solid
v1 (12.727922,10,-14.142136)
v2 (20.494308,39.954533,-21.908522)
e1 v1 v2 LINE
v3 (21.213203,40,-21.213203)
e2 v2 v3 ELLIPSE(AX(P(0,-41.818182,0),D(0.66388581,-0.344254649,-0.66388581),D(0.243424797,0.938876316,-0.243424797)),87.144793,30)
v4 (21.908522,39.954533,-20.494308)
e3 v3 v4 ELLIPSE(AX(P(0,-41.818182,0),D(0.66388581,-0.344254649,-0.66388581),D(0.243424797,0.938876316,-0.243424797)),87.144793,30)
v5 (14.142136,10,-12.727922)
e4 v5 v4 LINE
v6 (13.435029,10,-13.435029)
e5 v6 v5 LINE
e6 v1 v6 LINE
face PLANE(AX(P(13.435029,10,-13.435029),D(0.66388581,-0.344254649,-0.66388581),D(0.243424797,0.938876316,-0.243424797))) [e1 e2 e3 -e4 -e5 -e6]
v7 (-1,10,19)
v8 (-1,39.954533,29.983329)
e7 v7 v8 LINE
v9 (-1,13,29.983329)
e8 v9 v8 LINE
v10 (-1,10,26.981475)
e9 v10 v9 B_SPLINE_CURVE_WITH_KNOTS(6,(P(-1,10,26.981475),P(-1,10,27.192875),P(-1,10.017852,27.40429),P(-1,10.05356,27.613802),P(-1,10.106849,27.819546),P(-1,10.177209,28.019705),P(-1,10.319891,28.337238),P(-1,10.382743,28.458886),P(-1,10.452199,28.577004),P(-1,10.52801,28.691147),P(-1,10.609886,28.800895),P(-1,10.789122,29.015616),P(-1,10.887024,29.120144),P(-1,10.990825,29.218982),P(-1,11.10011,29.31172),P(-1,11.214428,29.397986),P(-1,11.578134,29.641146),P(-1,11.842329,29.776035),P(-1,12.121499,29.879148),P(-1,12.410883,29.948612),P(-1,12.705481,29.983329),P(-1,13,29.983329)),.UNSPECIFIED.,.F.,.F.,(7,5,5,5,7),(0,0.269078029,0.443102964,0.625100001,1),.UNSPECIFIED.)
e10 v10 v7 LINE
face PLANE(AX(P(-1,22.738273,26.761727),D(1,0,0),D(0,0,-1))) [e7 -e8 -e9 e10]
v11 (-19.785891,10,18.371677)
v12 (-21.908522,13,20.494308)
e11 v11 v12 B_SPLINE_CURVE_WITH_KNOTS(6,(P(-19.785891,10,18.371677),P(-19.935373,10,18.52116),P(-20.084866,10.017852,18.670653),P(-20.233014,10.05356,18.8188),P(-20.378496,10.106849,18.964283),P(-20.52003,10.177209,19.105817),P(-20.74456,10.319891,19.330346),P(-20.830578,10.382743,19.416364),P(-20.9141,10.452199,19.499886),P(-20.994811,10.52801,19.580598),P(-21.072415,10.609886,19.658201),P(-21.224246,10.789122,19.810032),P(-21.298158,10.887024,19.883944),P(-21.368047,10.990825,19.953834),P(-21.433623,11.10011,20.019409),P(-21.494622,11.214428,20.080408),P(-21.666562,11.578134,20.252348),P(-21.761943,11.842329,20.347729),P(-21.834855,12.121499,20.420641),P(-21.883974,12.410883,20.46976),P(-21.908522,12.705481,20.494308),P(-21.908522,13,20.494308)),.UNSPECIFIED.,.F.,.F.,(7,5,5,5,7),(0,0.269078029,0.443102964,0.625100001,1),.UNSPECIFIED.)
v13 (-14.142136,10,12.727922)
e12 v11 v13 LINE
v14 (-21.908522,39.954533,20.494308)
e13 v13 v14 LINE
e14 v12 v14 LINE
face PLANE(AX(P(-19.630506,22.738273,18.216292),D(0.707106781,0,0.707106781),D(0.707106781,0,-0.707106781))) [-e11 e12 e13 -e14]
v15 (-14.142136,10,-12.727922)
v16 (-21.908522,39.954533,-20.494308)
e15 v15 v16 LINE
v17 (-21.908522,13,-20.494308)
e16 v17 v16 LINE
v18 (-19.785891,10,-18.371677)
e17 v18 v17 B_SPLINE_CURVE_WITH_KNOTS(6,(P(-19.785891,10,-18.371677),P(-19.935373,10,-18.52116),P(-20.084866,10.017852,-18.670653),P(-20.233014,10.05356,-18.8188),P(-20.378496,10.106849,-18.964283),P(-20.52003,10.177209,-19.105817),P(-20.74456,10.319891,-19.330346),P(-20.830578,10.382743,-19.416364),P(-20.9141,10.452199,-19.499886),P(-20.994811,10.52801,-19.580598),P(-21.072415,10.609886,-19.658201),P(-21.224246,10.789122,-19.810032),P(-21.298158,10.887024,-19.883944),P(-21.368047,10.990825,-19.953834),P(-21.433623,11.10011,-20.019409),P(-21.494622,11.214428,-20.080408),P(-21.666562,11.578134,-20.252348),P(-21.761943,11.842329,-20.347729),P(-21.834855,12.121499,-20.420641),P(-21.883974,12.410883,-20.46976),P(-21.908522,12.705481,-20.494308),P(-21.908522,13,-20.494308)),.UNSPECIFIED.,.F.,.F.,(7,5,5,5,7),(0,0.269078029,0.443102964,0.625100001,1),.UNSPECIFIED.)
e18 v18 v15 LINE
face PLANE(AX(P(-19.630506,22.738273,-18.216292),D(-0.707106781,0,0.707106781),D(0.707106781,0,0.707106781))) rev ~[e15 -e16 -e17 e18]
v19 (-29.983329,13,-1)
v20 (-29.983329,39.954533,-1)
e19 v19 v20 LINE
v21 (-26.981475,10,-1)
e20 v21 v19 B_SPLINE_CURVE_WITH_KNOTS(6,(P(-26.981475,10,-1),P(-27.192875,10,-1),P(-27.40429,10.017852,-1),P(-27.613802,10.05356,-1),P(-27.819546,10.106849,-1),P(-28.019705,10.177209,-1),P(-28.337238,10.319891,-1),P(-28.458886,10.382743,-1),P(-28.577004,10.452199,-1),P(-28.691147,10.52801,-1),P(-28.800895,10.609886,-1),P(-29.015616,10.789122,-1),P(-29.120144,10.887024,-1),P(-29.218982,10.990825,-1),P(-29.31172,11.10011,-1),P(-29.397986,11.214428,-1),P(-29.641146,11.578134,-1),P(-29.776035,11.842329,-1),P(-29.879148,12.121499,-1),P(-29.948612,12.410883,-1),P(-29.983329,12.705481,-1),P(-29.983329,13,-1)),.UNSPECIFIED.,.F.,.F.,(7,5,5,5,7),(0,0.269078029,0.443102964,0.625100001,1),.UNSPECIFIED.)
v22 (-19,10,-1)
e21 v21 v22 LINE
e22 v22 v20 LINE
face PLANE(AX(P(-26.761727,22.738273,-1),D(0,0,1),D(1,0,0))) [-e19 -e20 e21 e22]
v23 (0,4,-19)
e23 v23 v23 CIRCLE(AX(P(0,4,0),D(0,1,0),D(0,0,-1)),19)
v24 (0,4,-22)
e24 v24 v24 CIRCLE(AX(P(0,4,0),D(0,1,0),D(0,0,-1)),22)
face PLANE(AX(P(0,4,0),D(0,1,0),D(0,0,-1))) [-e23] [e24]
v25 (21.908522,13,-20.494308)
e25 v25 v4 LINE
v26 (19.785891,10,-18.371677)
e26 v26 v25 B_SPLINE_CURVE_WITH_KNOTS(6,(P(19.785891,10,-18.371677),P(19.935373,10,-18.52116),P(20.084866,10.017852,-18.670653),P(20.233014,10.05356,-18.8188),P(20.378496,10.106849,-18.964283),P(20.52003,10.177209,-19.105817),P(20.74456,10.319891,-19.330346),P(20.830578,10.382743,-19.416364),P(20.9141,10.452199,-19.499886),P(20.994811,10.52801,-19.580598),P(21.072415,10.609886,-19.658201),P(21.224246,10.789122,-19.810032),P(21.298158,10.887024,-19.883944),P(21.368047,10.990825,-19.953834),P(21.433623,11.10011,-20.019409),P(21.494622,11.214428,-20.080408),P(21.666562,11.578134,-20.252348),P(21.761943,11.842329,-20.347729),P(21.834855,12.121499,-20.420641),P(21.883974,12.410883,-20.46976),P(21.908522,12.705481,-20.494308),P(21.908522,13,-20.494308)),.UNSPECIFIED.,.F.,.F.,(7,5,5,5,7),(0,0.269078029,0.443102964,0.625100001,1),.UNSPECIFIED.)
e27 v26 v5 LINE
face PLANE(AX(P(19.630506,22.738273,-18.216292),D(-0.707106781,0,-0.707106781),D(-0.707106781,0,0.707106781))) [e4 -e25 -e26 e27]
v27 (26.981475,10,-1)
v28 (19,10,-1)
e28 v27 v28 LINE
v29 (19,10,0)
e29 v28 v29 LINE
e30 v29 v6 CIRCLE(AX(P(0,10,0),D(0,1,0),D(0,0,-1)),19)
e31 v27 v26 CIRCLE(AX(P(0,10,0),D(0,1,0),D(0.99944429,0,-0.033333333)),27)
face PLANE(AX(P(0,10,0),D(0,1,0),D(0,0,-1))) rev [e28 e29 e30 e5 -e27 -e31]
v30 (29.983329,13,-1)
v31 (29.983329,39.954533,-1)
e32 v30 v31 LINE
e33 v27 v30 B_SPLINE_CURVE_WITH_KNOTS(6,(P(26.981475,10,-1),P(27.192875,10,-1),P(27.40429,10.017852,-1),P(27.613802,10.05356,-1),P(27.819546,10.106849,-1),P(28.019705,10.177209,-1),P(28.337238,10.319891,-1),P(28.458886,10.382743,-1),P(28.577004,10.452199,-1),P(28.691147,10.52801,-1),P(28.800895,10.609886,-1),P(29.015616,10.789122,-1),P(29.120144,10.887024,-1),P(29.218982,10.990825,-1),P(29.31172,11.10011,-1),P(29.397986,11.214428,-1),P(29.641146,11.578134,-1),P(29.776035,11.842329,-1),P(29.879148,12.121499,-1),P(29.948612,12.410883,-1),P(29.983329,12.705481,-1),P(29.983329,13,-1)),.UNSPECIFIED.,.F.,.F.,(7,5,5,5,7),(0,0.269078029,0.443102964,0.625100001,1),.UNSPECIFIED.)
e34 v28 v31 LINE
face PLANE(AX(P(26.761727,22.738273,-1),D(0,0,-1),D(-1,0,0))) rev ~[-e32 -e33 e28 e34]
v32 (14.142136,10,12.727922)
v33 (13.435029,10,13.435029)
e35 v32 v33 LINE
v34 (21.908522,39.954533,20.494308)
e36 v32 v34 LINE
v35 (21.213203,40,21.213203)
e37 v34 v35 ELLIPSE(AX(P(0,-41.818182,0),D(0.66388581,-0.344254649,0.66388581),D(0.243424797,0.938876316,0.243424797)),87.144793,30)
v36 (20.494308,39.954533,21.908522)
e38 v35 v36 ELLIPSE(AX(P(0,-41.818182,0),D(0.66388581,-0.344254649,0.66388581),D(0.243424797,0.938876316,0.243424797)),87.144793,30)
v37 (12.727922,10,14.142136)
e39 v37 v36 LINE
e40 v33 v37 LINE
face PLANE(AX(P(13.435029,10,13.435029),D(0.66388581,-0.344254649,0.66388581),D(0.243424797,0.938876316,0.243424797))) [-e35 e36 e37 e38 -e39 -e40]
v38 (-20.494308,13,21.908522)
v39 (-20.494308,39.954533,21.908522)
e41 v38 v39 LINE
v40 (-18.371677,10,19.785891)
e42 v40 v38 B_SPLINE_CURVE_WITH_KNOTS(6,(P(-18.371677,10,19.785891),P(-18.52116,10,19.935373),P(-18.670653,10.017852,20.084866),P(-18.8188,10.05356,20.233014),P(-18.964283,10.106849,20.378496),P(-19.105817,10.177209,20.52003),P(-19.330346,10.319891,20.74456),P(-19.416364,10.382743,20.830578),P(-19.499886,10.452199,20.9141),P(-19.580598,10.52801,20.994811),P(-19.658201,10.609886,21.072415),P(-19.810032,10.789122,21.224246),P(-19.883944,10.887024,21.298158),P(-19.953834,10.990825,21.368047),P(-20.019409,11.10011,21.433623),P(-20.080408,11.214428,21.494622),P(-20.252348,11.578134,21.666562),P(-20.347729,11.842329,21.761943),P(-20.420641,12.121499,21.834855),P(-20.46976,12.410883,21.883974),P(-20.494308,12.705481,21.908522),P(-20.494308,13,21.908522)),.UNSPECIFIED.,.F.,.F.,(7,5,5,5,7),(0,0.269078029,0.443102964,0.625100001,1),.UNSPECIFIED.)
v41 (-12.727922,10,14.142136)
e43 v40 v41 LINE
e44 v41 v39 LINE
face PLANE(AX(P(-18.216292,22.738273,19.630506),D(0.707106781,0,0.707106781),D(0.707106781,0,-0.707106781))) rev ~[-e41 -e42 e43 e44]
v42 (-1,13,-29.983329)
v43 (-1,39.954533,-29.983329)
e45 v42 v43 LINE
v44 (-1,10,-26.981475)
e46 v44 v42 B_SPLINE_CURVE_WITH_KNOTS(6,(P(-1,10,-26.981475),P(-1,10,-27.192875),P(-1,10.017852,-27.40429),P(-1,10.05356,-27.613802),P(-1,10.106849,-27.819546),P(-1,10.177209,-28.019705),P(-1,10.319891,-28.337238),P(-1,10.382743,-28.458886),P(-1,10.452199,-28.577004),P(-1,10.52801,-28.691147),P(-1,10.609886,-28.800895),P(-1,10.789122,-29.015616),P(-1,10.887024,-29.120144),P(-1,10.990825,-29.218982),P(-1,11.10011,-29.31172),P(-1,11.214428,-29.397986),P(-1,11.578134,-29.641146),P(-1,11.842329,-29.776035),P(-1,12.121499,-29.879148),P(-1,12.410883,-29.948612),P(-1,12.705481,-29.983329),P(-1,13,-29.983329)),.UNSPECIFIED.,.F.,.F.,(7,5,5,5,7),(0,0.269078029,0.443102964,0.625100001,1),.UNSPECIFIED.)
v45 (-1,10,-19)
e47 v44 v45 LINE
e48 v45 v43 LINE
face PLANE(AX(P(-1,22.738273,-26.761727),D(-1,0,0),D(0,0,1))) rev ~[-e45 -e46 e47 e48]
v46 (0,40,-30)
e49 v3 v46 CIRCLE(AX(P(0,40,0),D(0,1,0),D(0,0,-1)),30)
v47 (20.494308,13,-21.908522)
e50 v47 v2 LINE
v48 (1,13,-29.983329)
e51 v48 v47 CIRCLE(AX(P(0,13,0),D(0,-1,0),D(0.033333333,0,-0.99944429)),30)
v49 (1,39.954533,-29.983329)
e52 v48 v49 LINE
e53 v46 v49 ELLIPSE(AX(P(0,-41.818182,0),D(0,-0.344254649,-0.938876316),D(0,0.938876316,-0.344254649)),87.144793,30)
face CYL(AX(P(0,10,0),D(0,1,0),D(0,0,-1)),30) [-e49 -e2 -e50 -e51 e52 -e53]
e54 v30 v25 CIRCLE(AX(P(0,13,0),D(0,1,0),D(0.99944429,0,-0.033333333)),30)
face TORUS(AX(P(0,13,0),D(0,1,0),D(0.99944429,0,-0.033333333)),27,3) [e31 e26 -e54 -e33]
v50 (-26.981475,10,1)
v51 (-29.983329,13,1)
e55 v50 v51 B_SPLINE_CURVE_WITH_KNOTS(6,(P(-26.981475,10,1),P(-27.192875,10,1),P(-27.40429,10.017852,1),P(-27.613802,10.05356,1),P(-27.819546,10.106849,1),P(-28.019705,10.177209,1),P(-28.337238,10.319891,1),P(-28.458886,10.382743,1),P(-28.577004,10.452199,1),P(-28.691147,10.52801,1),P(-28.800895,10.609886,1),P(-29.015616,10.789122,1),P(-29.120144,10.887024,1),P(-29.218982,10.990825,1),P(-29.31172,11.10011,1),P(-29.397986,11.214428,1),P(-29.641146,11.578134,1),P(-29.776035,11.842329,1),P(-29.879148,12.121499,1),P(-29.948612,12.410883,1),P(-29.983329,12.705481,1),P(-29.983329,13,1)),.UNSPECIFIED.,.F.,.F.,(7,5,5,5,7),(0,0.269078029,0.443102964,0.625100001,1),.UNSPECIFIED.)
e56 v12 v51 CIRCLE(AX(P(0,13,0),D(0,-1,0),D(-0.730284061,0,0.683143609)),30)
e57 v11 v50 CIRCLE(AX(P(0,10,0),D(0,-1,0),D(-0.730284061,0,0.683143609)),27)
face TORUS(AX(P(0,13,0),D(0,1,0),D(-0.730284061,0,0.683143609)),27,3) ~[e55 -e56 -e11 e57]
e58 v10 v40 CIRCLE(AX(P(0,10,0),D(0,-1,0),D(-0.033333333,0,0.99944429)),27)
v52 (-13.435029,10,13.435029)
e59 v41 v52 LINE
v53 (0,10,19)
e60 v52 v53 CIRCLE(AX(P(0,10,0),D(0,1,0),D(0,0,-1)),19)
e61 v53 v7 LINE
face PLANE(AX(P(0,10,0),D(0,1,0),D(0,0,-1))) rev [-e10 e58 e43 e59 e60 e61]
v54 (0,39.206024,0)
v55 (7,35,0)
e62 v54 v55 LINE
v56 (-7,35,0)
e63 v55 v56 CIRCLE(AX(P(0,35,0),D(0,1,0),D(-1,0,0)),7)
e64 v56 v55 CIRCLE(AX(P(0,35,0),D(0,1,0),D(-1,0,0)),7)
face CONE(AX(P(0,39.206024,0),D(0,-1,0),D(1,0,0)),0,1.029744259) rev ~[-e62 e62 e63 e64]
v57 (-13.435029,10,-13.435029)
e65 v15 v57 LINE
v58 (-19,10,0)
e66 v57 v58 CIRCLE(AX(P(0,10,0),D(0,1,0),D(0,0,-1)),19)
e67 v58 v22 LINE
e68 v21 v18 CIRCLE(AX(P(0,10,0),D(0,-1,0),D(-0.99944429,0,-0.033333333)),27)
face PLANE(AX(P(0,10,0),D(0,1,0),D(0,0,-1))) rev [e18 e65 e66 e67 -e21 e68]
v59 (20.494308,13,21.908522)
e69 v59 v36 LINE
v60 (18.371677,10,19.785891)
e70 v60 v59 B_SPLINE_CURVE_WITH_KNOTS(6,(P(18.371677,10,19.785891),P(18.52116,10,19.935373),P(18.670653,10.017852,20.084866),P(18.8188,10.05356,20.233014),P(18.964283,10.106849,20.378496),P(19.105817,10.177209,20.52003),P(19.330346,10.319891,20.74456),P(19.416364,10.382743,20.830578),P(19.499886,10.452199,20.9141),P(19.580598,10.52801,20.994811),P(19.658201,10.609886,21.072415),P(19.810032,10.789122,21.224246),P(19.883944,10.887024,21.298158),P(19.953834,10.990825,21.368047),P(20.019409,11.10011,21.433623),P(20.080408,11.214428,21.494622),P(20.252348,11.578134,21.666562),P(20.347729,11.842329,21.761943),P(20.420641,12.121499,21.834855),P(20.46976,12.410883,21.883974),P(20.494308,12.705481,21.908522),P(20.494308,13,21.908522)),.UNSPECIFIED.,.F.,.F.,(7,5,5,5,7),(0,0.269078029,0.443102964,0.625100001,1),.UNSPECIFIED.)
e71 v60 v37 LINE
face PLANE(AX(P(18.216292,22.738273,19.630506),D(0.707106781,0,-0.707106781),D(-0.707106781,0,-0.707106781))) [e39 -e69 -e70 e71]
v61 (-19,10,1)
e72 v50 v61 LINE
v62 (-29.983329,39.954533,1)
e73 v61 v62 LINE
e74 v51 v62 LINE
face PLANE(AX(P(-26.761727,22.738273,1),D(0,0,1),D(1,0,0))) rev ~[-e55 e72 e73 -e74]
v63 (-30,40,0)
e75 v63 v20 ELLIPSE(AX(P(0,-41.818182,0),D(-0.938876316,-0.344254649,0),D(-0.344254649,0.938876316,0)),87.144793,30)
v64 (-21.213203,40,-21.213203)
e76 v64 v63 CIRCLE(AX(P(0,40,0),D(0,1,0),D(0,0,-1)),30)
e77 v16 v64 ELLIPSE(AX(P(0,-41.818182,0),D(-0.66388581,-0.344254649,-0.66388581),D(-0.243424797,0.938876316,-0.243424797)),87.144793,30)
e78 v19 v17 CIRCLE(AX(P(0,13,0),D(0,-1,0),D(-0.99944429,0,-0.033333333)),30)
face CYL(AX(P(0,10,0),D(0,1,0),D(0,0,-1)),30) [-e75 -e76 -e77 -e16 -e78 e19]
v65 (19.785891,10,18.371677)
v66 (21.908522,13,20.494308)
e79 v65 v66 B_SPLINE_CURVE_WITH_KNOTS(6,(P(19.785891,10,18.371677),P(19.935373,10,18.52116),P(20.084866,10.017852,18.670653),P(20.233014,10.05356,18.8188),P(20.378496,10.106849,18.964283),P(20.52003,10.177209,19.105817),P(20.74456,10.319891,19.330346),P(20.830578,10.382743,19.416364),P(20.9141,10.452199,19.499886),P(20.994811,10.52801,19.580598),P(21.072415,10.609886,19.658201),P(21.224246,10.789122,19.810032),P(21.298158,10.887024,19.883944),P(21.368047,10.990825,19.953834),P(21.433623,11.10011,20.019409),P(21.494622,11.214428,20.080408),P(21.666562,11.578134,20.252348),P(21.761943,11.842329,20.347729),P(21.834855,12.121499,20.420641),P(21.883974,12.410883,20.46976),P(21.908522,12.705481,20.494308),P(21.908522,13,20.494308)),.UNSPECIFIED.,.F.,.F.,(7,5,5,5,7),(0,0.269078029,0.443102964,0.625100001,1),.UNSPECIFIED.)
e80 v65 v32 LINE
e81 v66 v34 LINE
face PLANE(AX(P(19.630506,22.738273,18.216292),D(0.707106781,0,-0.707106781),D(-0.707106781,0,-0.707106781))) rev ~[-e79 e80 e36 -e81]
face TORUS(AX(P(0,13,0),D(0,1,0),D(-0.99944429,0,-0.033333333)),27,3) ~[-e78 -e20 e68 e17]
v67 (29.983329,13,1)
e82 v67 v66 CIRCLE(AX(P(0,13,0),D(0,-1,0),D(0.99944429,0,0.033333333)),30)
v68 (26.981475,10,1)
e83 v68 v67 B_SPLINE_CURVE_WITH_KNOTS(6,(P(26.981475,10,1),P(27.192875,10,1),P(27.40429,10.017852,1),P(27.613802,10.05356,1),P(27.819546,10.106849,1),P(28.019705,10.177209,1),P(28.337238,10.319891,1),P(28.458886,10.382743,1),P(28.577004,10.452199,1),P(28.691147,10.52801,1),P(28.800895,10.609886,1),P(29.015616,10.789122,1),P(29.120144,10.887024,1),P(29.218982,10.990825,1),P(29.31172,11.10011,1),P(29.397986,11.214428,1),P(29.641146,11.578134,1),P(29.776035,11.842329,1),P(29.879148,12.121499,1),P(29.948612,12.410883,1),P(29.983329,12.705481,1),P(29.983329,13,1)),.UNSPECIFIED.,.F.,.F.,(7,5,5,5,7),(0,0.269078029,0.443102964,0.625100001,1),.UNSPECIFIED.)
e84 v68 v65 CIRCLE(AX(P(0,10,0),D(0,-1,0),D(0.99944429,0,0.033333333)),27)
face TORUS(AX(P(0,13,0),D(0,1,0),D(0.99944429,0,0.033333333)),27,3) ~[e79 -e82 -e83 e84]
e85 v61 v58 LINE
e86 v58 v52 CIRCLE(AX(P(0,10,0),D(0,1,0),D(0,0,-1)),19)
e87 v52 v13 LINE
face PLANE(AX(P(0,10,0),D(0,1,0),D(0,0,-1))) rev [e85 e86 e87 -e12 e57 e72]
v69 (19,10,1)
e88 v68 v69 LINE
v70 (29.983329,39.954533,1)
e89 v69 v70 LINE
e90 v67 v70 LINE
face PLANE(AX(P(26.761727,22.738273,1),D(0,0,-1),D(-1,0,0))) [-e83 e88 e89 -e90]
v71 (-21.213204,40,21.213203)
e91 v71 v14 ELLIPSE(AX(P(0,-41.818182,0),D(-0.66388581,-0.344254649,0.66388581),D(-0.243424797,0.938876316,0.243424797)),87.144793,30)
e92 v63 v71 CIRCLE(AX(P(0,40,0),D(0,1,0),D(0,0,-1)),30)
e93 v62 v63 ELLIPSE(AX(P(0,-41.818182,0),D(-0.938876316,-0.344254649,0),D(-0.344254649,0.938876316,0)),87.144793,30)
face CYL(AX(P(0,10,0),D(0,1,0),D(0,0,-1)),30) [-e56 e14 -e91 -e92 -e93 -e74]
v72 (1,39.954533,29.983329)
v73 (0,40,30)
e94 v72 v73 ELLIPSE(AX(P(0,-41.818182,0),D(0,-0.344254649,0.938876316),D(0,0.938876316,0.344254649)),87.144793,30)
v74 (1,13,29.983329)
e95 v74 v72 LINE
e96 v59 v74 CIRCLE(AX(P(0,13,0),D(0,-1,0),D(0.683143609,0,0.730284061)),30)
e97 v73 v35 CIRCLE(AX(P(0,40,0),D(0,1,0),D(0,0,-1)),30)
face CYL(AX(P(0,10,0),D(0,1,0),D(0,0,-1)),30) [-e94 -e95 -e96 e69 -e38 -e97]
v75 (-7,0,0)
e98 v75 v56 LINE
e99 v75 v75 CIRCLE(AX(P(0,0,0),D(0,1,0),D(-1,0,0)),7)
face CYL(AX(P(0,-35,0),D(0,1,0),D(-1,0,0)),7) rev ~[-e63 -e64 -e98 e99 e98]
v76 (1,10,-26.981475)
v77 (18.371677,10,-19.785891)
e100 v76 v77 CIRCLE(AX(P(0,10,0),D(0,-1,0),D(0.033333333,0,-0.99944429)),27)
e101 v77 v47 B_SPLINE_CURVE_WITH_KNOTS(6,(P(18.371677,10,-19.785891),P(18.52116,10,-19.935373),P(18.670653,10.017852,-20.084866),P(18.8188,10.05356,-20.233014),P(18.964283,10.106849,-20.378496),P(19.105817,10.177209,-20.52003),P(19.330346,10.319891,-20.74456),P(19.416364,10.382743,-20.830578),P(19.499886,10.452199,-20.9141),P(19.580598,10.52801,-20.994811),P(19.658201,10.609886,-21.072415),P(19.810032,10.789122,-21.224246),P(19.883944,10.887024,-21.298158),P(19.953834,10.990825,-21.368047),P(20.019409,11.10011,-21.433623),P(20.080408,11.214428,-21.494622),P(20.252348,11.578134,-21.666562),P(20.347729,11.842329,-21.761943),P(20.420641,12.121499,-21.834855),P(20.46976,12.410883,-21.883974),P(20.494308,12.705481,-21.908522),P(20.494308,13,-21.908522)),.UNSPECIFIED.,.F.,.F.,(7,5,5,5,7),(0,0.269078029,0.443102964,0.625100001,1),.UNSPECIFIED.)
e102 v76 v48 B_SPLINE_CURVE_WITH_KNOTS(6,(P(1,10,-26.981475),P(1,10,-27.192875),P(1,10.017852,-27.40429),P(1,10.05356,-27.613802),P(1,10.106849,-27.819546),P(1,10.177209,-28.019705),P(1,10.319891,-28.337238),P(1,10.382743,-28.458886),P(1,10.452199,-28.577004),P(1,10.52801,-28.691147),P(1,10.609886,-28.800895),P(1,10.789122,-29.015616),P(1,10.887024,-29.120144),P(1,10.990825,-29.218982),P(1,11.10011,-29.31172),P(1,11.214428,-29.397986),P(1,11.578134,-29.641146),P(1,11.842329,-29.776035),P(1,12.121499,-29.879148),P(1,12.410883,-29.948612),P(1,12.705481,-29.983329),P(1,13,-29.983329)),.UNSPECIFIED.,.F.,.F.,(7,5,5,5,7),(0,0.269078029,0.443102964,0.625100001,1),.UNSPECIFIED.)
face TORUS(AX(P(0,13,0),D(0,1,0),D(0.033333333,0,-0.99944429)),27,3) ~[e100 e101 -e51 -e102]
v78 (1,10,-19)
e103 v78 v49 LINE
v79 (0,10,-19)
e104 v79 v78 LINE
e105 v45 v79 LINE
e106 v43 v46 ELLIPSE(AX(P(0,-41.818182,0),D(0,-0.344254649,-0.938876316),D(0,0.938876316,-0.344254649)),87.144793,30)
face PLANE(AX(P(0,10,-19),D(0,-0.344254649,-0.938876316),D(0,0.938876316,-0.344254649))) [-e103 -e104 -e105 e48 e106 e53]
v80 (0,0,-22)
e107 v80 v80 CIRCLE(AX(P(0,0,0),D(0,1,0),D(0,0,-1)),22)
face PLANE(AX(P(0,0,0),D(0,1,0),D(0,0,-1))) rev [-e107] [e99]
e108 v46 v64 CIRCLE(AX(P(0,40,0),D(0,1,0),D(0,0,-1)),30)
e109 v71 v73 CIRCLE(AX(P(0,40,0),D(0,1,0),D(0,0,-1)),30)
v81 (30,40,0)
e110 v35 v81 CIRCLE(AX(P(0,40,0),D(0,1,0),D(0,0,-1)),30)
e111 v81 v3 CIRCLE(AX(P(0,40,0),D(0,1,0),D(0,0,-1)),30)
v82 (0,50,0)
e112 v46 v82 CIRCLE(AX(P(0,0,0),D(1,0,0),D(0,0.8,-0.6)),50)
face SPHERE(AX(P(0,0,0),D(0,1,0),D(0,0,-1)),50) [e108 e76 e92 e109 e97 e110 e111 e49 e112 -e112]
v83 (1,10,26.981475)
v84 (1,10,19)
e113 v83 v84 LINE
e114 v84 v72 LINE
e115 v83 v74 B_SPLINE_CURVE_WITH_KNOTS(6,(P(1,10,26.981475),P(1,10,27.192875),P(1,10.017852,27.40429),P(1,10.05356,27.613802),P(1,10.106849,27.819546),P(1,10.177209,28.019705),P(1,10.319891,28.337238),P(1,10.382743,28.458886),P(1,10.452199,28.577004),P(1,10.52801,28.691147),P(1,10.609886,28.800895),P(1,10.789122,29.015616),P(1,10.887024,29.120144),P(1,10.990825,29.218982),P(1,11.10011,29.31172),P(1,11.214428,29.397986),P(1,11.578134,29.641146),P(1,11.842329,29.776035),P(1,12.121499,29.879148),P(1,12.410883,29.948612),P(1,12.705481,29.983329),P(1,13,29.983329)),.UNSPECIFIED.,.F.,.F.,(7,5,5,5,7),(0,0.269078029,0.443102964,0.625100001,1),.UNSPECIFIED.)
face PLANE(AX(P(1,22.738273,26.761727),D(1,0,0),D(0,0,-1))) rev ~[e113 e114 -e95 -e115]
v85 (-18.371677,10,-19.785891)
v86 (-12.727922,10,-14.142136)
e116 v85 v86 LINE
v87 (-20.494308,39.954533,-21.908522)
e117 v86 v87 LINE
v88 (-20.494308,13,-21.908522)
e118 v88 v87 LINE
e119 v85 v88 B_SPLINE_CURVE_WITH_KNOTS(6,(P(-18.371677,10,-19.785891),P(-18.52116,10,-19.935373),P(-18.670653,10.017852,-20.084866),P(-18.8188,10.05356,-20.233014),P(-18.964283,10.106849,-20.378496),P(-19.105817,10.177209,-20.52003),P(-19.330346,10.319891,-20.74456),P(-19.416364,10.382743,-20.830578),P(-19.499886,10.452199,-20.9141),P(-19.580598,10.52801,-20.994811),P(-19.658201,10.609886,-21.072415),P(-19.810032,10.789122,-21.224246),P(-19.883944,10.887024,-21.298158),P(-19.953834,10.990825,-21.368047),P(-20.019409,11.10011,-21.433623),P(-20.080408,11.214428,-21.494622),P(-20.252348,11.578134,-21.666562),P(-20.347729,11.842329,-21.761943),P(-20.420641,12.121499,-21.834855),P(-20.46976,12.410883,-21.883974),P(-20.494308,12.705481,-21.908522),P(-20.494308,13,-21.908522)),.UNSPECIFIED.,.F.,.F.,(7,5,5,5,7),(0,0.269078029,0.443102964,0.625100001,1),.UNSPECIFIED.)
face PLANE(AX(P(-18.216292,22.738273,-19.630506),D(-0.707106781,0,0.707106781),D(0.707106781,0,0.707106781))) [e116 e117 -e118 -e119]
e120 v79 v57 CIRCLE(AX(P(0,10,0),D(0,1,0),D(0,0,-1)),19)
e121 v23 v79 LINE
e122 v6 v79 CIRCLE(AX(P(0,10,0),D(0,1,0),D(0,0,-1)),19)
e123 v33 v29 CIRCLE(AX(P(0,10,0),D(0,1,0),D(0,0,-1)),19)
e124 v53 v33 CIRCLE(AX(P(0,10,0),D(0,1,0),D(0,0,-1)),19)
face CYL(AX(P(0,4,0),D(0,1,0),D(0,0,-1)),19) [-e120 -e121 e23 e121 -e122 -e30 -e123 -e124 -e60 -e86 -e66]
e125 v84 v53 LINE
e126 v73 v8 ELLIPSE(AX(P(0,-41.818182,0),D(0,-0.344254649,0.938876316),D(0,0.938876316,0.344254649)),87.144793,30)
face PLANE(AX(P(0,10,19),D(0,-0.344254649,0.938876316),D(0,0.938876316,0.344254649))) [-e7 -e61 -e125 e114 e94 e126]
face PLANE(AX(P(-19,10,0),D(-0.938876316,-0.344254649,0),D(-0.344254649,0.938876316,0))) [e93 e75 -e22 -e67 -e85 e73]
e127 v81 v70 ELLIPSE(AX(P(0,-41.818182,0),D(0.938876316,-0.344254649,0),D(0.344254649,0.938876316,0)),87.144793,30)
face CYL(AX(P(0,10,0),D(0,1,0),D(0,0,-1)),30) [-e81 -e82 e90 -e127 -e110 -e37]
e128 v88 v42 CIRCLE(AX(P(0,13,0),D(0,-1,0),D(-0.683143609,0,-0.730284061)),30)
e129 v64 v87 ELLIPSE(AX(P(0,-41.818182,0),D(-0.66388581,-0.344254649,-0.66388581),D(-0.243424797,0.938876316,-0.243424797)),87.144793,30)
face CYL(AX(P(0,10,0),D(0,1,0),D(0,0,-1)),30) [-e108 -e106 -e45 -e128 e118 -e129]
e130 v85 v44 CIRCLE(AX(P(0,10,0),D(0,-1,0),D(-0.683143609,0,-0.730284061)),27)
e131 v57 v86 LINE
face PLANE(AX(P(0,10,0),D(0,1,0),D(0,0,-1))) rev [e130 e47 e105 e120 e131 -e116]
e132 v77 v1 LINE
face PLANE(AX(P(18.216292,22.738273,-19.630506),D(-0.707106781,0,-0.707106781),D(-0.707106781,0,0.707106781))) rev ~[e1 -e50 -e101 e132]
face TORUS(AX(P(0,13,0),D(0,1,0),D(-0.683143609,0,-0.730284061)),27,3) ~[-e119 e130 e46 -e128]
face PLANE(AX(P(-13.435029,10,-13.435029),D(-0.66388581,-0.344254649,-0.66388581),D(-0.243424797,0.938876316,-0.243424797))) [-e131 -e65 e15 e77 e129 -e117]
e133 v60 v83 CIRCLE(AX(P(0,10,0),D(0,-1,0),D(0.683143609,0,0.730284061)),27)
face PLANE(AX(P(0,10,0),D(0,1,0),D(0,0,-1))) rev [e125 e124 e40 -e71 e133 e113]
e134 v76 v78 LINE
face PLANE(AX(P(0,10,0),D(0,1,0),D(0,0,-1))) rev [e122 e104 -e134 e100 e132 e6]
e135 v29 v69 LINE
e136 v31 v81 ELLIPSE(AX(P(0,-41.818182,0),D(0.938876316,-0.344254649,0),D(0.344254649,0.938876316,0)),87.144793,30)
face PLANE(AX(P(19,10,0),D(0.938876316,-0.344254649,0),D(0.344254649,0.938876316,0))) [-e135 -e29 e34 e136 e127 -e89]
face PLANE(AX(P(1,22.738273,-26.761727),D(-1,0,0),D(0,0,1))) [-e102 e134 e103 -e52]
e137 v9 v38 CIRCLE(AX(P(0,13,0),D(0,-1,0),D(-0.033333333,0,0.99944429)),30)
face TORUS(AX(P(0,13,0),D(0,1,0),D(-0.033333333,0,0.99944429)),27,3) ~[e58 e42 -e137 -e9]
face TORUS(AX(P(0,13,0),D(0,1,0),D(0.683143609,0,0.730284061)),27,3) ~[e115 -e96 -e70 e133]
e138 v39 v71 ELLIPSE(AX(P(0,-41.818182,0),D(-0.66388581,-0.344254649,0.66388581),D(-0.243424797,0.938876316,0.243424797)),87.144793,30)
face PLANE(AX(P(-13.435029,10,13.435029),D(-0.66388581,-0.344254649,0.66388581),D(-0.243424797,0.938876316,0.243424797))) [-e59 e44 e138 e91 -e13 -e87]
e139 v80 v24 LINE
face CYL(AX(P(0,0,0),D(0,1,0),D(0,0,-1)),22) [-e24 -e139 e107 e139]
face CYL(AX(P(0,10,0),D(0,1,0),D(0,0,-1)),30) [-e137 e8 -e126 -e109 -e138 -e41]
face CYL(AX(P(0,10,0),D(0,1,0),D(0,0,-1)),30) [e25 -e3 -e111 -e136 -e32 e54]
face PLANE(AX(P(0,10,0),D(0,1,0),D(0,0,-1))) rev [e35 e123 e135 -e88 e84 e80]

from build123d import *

# Parameters (mm, degrees)
M16_TAPPED_HOLE1_D     = 14
M16_TAPPED_HOLE1_DEPTH = 35
M16_TAPPED_HOLE1_TIP   = 4.206024333
CUT_EXTRUDE1_DEPTH     = 1
CIRPATTERN1_COUNT      = 8
FILLET1_R              = 3


with BuildPart() as part:
    # Sketch3 → Revolve1 (revolve)
    with BuildSketch(Plane.XY, mode=Mode.PRIVATE) as revolve1_sk:
        with BuildLine():
            Line((0, 0), (22, 0))
            Line((22, 0), (22, 4))
            Line((22, 4), (19, 4))
            Line((19, 4), (19, 10))
            Line((19, 10), (30, 10))
            Line((30, 10), (30, 40))
            ThreePointArc((30, 40), (15.811388301, 47.434164903), (0, 50))
            Line((0, 50), (0, 0))
        make_face()
    revolve(revolve1_sk.sketch.rotate(Axis((0, 0, 0), (0, 1, 0)), 90), axis=Axis((0, 0, 0), (0, 1, 0)))

    # M16 Tapped Hole1
    with Locations(Plane.XZ):
        with Locations((0, 0)):
            Hole(M16_TAPPED_HOLE1_D / 2, depth=M16_TAPPED_HOLE1_DEPTH)
            with Locations((0, 0, -(M16_TAPPED_HOLE1_DEPTH + M16_TAPPED_HOLE1_TIP / 2))):  # 118° drill point
                Cone(0, M16_TAPPED_HOLE1_D / 2, M16_TAPPED_HOLE1_TIP, mode=Mode.SUBTRACT)

    # Sketch7 → Cut-Extrude1 (cut, symmetric)
    with BuildSketch(Plane.XY):
        Polygon((30, 40), (30, 10), (19, 10), align=None)
    cut_extrude1 = extrude(amount=CUT_EXTRUDE1_DEPTH, both=True, mode=Mode.SUBTRACT)

    # CirPattern1: Cut-Extrude1 ×8 about axis
    cirpattern1_axis = Axis((0, 0, 0), (0, 1, 0))
    for i in range(1, CIRPATTERN1_COUNT):
        add(cut_extrude1.rotate(cirpattern1_axis, i * 360 / CIRPATTERN1_COUNT), mode=Mode.SUBTRACT)

    # Fillet1
    fillet1_edges = [part.edges().sort_by_distance(p)[0] for p in [
        (27.716385975, 10, 11.480502971),
        (11.480502971, 10, 27.716385975),
        (-11.480502971, 10, 27.716385975),
        (-27.716385975, 10, 11.480502971),
        (-27.716385975, 10, -11.480502971),
        (-11.480502971, 10, -27.716385975),
        (11.480502971, 10, -27.716385975),
        (27.716385975, 10, -11.480502971),
    ]]
    fillet(fillet1_edges, radius=FILLET1_R)


solid = part.part
